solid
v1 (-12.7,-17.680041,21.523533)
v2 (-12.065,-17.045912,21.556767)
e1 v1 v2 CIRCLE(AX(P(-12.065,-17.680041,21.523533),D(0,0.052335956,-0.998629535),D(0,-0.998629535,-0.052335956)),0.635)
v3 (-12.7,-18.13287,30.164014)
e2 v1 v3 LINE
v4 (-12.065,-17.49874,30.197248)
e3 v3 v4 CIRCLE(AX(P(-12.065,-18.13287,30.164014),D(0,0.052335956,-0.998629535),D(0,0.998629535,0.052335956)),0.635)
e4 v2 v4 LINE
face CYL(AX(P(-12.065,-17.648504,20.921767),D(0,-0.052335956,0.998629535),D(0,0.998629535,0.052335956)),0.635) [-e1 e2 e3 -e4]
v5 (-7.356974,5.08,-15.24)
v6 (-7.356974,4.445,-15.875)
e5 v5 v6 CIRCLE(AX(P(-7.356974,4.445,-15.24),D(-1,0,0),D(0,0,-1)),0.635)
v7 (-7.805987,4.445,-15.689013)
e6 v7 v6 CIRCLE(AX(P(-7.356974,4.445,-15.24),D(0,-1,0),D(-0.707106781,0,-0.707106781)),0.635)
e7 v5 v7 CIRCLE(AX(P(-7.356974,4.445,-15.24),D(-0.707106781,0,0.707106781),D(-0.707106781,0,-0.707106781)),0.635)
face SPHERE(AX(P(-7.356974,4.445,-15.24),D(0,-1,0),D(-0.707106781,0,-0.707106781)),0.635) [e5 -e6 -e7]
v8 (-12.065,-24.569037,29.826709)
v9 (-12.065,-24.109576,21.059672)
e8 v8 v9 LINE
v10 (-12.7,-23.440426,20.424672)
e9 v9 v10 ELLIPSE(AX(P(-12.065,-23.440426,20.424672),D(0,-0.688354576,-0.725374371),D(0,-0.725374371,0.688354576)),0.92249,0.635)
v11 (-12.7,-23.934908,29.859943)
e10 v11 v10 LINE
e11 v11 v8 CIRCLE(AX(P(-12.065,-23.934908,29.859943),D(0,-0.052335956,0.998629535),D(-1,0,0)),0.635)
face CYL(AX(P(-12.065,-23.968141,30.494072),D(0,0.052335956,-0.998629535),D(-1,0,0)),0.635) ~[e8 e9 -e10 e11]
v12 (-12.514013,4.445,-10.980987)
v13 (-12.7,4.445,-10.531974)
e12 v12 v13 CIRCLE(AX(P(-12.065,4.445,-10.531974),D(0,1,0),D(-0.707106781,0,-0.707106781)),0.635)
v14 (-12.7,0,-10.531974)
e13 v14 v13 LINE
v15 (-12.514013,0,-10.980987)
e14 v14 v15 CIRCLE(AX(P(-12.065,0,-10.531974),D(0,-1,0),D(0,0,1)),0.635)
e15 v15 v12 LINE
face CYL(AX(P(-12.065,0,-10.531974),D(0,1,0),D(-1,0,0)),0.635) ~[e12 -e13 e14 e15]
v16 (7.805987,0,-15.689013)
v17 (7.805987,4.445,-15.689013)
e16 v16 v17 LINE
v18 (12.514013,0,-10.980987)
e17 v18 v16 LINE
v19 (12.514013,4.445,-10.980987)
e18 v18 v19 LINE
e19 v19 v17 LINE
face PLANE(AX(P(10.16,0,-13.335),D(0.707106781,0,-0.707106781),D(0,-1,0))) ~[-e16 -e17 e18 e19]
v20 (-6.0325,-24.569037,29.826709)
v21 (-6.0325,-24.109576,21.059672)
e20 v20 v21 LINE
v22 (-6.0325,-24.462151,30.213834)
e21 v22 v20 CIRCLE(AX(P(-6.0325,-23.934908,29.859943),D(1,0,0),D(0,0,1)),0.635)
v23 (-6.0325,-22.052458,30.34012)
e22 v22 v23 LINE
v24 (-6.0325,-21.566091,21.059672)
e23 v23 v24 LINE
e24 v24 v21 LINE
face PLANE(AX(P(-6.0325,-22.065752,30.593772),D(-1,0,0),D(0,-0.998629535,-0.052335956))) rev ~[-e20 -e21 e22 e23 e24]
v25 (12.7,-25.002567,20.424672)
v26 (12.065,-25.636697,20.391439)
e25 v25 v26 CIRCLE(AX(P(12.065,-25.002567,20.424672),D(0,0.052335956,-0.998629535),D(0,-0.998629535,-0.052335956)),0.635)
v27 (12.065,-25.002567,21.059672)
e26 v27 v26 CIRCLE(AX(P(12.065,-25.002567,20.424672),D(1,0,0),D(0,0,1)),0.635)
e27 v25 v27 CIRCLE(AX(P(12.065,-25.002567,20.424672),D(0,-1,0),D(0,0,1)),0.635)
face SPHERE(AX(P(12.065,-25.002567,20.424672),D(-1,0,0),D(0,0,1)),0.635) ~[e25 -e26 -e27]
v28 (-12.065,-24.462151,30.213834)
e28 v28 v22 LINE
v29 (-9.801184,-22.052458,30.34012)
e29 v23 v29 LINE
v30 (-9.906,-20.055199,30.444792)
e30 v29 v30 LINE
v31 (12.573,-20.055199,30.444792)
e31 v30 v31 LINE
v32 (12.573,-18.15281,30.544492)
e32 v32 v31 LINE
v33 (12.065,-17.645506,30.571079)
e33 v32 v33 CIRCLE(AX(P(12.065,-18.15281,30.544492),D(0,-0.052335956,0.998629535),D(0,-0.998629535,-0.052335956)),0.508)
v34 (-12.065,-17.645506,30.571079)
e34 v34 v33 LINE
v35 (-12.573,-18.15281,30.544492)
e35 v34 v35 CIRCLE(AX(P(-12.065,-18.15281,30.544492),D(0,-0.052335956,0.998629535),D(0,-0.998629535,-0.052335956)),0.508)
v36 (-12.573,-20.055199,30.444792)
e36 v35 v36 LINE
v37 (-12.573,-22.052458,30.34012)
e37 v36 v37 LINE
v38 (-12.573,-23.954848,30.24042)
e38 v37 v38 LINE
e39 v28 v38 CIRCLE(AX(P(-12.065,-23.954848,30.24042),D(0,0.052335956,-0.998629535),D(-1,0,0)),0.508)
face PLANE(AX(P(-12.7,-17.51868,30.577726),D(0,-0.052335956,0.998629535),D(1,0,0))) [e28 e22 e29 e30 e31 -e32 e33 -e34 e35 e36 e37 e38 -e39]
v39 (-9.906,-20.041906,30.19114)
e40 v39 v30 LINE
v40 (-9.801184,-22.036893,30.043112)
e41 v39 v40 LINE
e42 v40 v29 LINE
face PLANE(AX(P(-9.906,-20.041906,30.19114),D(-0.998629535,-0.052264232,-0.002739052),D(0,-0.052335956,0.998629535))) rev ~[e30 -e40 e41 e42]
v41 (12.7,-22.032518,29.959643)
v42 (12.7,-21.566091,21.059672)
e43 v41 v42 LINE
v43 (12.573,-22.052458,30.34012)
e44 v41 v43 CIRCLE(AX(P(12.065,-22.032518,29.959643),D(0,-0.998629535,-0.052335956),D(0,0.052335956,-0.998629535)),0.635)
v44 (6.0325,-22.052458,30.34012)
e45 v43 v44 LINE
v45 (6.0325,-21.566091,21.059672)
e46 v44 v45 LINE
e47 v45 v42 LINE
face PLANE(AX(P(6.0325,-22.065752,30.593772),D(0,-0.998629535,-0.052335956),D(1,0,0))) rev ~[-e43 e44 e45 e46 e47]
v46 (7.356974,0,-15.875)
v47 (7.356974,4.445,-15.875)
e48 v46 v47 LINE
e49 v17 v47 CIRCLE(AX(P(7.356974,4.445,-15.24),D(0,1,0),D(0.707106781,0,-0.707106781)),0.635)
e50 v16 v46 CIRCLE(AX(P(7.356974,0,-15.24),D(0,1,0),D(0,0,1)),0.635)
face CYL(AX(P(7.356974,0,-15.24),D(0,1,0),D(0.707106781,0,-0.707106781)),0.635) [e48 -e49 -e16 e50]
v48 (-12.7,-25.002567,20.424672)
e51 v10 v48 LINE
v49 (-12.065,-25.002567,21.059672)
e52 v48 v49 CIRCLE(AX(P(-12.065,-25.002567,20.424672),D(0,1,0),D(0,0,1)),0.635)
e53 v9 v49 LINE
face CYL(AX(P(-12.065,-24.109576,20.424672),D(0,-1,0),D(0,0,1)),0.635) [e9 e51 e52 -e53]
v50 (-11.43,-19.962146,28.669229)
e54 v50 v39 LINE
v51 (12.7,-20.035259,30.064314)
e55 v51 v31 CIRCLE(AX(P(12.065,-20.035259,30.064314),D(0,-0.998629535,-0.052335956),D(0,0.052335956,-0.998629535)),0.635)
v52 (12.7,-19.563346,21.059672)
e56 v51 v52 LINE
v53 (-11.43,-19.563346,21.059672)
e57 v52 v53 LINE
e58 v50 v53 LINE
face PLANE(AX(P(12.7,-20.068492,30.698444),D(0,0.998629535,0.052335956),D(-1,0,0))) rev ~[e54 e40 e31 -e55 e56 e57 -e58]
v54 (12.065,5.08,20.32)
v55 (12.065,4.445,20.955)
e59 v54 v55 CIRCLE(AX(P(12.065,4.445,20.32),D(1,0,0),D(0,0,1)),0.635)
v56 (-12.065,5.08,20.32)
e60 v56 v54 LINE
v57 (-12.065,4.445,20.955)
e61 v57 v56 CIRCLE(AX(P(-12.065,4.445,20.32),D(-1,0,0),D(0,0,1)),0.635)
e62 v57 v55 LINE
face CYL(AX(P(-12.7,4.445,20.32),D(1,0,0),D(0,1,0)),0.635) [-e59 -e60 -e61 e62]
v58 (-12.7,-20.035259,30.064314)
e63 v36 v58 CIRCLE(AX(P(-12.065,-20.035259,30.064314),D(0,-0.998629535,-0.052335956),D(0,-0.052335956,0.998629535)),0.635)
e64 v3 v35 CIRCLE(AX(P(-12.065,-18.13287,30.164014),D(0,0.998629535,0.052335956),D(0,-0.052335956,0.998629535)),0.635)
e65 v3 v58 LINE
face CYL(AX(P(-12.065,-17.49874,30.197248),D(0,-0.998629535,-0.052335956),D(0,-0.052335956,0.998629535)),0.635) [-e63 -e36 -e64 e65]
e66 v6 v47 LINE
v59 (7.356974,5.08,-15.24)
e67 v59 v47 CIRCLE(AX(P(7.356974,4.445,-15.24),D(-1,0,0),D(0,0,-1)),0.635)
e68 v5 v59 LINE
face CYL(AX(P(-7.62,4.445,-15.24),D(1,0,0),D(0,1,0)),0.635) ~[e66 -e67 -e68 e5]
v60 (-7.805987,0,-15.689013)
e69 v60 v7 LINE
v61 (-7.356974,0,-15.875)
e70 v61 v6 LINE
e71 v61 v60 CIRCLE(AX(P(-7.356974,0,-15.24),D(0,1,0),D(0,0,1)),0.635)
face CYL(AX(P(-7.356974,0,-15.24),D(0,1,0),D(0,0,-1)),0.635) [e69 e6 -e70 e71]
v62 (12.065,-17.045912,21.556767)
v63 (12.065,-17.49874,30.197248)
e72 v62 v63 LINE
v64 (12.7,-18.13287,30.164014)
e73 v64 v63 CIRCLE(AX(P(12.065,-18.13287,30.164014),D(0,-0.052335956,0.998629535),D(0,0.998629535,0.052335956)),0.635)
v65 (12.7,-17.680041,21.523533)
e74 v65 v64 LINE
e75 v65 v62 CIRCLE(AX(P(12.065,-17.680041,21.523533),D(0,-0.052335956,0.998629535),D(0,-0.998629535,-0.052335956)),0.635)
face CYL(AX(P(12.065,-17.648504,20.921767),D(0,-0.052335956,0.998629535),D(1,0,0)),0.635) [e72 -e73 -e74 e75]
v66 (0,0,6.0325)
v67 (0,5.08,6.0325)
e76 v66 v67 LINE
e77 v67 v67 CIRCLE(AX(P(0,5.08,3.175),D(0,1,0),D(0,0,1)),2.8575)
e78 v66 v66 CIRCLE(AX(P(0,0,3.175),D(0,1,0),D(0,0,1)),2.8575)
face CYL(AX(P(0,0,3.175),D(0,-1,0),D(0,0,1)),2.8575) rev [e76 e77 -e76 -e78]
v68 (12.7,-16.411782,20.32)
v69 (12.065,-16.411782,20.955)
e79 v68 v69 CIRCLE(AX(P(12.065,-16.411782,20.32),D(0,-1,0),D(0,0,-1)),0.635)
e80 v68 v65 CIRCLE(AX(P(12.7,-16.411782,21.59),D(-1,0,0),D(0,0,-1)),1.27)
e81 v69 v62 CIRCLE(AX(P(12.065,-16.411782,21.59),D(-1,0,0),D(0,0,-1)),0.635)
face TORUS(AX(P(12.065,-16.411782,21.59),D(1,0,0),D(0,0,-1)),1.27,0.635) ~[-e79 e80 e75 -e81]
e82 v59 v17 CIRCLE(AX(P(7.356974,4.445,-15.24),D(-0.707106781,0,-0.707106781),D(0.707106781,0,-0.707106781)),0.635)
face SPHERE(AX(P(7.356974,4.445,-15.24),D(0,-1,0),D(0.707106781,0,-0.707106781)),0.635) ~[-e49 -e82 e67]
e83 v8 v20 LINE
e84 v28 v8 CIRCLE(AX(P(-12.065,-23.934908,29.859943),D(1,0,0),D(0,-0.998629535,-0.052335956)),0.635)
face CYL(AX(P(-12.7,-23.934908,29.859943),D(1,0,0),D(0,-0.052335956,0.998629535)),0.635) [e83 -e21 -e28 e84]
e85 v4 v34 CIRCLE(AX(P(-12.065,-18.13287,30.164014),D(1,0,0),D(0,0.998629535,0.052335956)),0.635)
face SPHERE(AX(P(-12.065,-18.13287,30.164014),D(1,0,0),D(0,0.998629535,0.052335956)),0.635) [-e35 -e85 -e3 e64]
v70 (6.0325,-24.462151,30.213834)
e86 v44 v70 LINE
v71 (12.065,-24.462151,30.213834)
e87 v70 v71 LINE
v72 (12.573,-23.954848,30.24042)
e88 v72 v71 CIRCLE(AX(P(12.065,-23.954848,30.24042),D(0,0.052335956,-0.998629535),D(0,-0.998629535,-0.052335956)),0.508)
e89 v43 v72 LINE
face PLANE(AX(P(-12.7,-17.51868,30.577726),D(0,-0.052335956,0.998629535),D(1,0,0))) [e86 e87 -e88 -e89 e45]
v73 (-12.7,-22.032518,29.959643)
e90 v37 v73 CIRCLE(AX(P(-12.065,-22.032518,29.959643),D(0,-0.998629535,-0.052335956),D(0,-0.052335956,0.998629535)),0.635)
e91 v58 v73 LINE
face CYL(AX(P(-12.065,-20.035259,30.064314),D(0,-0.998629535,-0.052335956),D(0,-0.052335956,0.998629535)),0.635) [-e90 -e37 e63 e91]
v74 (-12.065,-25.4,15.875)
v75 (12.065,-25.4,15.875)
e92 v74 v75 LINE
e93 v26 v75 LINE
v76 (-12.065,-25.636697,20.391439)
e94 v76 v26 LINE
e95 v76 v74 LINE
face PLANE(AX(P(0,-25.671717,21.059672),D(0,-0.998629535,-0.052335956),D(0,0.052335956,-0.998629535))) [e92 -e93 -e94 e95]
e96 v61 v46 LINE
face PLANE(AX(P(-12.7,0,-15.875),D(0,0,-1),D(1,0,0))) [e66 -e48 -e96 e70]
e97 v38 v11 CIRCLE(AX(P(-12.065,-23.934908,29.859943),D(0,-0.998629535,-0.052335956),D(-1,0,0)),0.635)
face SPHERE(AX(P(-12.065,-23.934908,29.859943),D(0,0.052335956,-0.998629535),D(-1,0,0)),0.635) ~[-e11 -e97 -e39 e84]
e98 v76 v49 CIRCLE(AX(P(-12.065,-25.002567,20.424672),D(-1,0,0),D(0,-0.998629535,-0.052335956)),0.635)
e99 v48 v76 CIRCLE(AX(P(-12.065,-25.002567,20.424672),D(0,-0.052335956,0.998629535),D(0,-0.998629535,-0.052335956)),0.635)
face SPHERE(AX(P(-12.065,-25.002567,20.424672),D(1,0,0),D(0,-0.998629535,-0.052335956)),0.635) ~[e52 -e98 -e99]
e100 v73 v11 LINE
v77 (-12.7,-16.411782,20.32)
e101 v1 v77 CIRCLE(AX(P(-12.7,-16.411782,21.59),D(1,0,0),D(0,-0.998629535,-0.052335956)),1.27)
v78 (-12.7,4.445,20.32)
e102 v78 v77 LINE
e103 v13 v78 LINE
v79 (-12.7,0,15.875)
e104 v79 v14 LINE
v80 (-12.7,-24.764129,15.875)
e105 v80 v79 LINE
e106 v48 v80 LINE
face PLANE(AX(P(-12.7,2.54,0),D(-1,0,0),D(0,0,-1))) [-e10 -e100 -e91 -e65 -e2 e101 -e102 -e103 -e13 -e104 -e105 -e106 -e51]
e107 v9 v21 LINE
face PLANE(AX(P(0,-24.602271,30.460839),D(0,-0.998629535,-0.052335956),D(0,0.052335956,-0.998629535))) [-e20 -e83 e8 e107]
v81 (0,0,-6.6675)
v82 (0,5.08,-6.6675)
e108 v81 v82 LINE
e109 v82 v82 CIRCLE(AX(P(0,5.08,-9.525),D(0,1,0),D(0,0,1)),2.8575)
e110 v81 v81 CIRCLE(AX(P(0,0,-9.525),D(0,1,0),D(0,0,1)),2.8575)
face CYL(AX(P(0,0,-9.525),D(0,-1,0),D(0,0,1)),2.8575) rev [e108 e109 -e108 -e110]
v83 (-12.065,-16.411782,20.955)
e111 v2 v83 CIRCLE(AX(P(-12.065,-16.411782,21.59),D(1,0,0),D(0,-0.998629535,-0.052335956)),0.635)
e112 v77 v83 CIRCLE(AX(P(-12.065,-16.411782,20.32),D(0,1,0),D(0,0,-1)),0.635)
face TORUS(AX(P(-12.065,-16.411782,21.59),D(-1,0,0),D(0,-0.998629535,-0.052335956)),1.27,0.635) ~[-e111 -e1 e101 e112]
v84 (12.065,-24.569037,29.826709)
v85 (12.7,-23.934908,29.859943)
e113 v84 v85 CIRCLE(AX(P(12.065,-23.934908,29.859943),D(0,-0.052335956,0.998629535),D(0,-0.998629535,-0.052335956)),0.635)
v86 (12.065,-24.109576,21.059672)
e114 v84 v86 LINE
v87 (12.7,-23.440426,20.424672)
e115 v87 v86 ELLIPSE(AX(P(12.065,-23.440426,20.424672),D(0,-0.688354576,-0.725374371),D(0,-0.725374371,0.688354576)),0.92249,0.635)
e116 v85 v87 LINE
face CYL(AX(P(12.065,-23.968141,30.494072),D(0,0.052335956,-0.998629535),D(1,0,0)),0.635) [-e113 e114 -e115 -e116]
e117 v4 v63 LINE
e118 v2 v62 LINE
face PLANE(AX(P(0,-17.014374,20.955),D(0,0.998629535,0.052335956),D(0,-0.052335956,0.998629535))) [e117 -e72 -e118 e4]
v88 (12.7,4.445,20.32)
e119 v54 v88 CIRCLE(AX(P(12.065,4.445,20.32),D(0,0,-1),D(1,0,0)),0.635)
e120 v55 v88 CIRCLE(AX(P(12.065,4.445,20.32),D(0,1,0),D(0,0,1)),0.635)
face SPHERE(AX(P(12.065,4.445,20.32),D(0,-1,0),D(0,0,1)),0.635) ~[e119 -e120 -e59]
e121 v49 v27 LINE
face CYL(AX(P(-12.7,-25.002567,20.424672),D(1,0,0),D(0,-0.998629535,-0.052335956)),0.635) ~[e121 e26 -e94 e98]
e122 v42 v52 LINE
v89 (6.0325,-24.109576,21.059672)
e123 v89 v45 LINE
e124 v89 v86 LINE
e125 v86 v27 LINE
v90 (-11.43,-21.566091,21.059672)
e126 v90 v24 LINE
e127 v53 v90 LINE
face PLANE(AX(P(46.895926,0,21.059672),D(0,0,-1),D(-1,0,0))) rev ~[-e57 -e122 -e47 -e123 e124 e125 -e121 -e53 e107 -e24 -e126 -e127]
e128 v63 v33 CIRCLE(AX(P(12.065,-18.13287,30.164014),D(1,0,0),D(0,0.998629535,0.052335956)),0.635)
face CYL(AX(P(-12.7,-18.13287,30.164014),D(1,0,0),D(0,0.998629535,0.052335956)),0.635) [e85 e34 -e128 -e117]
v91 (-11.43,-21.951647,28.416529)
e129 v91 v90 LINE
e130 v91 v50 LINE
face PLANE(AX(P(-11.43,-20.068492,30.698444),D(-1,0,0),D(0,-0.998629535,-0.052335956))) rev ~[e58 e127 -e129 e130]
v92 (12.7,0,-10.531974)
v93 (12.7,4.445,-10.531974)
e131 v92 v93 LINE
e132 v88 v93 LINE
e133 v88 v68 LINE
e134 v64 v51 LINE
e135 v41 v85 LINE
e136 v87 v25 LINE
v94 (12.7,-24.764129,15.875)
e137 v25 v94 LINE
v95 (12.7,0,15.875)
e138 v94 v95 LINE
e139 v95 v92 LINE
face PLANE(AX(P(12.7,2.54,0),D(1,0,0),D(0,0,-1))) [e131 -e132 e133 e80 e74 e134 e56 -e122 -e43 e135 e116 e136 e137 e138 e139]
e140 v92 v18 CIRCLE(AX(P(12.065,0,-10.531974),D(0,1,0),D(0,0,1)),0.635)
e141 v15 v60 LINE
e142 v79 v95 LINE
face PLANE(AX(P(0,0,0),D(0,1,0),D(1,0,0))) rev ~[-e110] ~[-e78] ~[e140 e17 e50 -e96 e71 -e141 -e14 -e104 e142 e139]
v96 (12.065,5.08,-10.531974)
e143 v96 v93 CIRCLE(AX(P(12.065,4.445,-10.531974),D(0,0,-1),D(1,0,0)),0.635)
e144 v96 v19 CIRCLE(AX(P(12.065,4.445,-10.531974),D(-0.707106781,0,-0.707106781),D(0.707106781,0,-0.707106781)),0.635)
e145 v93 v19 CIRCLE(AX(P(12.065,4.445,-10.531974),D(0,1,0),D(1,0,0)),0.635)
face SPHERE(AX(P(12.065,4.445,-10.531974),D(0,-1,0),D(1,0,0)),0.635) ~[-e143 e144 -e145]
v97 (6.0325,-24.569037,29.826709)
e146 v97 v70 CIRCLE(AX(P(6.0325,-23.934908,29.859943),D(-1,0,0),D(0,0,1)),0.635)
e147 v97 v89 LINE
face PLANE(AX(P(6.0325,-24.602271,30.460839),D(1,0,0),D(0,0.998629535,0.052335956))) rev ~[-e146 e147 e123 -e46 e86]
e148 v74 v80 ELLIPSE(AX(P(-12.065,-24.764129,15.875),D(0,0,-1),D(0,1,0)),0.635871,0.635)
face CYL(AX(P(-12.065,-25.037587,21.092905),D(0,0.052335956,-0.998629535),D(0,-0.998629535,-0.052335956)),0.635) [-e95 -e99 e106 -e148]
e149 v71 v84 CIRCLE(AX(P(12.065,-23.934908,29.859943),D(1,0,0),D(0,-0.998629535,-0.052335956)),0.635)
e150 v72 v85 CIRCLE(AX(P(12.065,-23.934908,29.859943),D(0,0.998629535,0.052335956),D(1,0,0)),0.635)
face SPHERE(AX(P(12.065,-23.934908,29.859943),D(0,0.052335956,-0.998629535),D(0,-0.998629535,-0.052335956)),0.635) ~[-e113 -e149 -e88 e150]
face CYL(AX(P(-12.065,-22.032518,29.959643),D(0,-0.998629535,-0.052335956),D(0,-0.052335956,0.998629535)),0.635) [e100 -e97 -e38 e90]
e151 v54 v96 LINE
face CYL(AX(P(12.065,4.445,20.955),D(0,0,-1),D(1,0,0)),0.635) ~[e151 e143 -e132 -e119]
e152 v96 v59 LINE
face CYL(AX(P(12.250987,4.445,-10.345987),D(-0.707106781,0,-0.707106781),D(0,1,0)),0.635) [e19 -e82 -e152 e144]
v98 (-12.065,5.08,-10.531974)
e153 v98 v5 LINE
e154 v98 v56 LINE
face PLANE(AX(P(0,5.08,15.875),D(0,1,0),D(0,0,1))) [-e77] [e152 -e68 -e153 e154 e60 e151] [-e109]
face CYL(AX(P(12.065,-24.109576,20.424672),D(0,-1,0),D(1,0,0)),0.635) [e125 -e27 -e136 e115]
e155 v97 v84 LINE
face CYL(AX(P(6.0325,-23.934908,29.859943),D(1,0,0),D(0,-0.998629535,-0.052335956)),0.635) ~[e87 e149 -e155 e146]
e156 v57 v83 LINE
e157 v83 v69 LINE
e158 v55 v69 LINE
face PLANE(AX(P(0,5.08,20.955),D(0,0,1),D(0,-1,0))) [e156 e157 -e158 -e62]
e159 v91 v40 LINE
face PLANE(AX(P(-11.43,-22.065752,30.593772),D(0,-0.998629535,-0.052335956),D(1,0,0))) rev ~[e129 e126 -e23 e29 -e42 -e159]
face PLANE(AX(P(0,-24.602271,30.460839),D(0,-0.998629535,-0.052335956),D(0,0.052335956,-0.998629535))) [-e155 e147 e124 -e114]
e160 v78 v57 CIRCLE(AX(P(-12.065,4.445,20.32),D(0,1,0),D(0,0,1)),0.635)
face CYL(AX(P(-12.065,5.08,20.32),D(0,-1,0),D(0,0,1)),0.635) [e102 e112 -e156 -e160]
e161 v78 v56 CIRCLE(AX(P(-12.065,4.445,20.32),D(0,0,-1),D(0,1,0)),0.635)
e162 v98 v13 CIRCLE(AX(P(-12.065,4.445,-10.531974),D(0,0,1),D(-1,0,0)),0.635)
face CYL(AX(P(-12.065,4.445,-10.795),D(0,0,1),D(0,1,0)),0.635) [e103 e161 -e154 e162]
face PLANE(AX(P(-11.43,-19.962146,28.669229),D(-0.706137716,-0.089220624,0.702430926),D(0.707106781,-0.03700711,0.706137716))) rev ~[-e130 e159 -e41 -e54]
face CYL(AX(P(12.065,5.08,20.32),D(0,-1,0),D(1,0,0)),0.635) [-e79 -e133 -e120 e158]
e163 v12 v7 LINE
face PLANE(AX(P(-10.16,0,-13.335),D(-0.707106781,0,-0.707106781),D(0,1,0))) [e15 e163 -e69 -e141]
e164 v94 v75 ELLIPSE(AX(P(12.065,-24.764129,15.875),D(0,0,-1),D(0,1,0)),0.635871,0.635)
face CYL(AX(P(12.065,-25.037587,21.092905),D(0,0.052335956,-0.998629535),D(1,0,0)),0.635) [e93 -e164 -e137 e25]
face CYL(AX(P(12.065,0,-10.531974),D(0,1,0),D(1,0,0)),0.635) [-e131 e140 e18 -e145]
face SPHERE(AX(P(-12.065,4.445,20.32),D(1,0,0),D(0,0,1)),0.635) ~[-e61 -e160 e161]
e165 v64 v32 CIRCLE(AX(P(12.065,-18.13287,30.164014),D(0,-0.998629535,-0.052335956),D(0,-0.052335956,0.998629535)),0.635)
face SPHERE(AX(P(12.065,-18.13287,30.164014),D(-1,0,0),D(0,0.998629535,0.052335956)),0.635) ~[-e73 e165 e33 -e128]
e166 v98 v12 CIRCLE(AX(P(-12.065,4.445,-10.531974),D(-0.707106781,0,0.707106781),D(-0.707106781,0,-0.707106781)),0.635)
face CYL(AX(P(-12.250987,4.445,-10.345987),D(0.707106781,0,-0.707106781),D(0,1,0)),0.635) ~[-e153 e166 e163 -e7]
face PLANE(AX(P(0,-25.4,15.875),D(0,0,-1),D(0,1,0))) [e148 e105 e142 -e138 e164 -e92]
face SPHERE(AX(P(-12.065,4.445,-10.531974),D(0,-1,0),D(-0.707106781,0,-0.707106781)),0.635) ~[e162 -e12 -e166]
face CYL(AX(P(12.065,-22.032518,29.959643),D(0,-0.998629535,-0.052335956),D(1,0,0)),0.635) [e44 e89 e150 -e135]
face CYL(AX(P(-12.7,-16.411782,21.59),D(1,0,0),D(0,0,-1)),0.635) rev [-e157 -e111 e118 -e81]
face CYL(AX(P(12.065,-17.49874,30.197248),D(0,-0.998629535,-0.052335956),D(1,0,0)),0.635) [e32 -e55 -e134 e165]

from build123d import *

# Parameters (mm, degrees)
SKETCH1_W                       = 25.4
SKETCH1_H                       = 31.75
SKETCH1_R                       = 2.8575
BOSS_EXTRUDE1_DEPTH             = 5.08
BOSS_EXTRUDE2_REACH             = 22.955
BOSS_EXTRUDE2_DIRECTION_2_REACH = 22.955
CUT_EXTRUDE3_REACH              = 56.752
BOSS_EXTRUDE3_DEPTH             = 2
BOSS_EXTRUDE3_DRAFT             = -3
CHAMFER1_SIZE                   = 5.08
FILLET1_R                       = 0.635
SKETCH8_W                       = 25.4
SKETCH8_H                       = 6.35
CUT_EXTRUDE4_DEPTH              = 41.010145227


with BuildPart() as part:
    # Sketch1 → Boss-Extrude1 (new body)
    with BuildSketch(Plane(origin=(0, 0, 0), x_dir=(1, 0, 0), z_dir=(0, 1, 0))):
        Rectangle(SKETCH1_W, SKETCH1_H)
        with Locations(Location((0, 9.525, 0), (0, 0, 270))):
            Circle(SKETCH1_R, mode=Mode.SUBTRACT)
        with Locations(Location((0, -3.175, 0), (0, 0, 270))):
            Circle(SKETCH1_R, mode=Mode.SUBTRACT)
    extrude(amount=BOSS_EXTRUDE1_DEPTH)

    # Boss-Extrude2: up to this face of the body (flat: up to its plane)
    boss_extrude2_end = Plane(part.part.faces().sort_by_distance((12.7, 2.54, 0))[0])
    # Sketch2 → Boss-Extrude2 (add, up to the picked face)
    with BuildSketch(Plane(origin=(0, 0, 0), x_dir=(0, 0, -1), z_dir=(1, 0, 0)), mode=Mode.PRIVATE) as boss_extrude2_sk1:
        Polygon((-15.875, 5.08), (-20.955, 5.08), (-20.955, -17.014374457), (-30.831377514, -17.53197347), (-30.460838941, -24.60227064), (-21.059671916, -24.109576354), (-21.059671916, -25.671717141), (-15.875, -25.4), align=None)
    boss_extrude2_tool1 = split(extrude(boss_extrude2_sk1.sketch, amount=BOSS_EXTRUDE2_REACH, mode=Mode.PRIVATE), bisect_by=boss_extrude2_end, keep=Keep.BOTH, mode=Mode.PRIVATE)
    # Sketch2 → Boss-Extrude2 (add, up to the picked face)
    with BuildSketch(Plane(origin=(0, 0, 0), x_dir=(0, 0, -1), z_dir=(1, 0, 0)), mode=Mode.PRIVATE) as boss_extrude2_sk2:
        Polygon((-30.698444185, -20.068492489), (-30.593772269, -22.065751622), (-21.059671916, -21.566090595), (-21.059671916, -19.563345839), align=None)
    boss_extrude2_tool2 = split(extrude(boss_extrude2_sk2.sketch, amount=BOSS_EXTRUDE2_REACH, mode=Mode.PRIVATE), bisect_by=boss_extrude2_end, keep=Keep.BOTH, mode=Mode.PRIVATE)
    add(boss_extrude2_tool1.solids().sort_by(Axis((0, -13.472044, 20.681092), (1, 0, 0)))[0])
    add(boss_extrude2_tool2.solids().sort_by(Axis((0, -20.8141, 25.852938), (1, 0, 0)))[0])

    # Boss-Extrude2 direction 2: up to this face of the body (flat: up to its plane)
    boss_extrude2_direction_2_end = Plane(part.part.faces().sort_by_distance((-12.7, 2.54, 0))[0])
    # Sketch2 → Boss-Extrude2 direction 2 (add, up to the picked face)
    with BuildSketch(Plane(origin=(0, 0, 0), x_dir=(0, 0, -1), z_dir=(1, 0, 0)), mode=Mode.PRIVATE) as boss_extrude2_direction_2_sk1:
        Polygon((-15.875, 5.08), (-20.955, 5.08), (-20.955, -17.014374457), (-30.831377514, -17.53197347), (-30.460838941, -24.60227064), (-21.059671916, -24.109576354), (-21.059671916, -25.671717141), (-15.875, -25.4), align=None)
    boss_extrude2_direction_2_tool1 = split(extrude(boss_extrude2_direction_2_sk1.sketch, amount=-BOSS_EXTRUDE2_DIRECTION_2_REACH, mode=Mode.PRIVATE), bisect_by=boss_extrude2_direction_2_end, keep=Keep.BOTH, mode=Mode.PRIVATE)
    # Sketch2 → Boss-Extrude2 direction 2 (add, up to the picked face)
    with BuildSketch(Plane(origin=(0, 0, 0), x_dir=(0, 0, -1), z_dir=(1, 0, 0)), mode=Mode.PRIVATE) as boss_extrude2_direction_2_sk2:
        Polygon((-30.698444185, -20.068492489), (-30.593772269, -22.065751622), (-21.059671916, -21.566090595), (-21.059671916, -19.563345839), align=None)
    boss_extrude2_direction_2_tool2 = split(extrude(boss_extrude2_direction_2_sk2.sketch, amount=-BOSS_EXTRUDE2_DIRECTION_2_REACH, mode=Mode.PRIVATE), bisect_by=boss_extrude2_direction_2_end, keep=Keep.BOTH, mode=Mode.PRIVATE)
    add(boss_extrude2_direction_2_tool1.solids().sort_by(Axis((0, -13.472044, 20.681092), (-1, 0, 0)))[0])
    add(boss_extrude2_direction_2_tool2.solids().sort_by(Axis((0, -20.8141, 25.852938), (-1, 0, 0)))[0])

    # Cut-Extrude3: up to this plane
    cut_extrude3_end = Plane(origin=(46.895925715, 0, 21.059671916), z_dir=(0, 0, -1))
    # Sketch4 → Cut-Extrude3 (cut, up to the surface)
    with BuildSketch(Plane(origin=(0, -1.659399249, 31.663223881), x_dir=(1, 0, 0), z_dir=(0, -0.052335956242941094, 0.9986295347545742)), mode=Mode.PRIVATE) as cut_extrude3_sk1:
        Polygon((-11.43, -20.434356949), (-6.0325, -20.434356949), (-6.0325, -22.974356949), (6.0325, -22.974356949), (6.0325, -20.434356949), (12.7, -20.434356949), (12.7, -18.434356885), (-11.43, -18.434356885), align=None)
    cut_extrude3_tool1 = split(extrude(cut_extrude3_sk1.sketch, amount=-CUT_EXTRUDE3_REACH, mode=Mode.PRIVATE), bisect_by=cut_extrude3_end, keep=Keep.BOTH, mode=Mode.PRIVATE)
    add(cut_extrude3_tool1.solids().sort_by_distance((0.388379, -21.947535, 30.599968))[0], mode=Mode.SUBTRACT)


with BuildPart() as boss_extrude3_tool:
    # Sketch5 → Boss-Extrude3 (with draft: the straight prism first)
    with BuildSketch(Plane(origin=(0, -18.40909324, -0.964779695), x_dir=(1, 0, 0), z_dir=(0, -0.9986295347545742, -0.052335956242941115))):
        Polygon((-11.43, 29.674676779), (-9.906, 31.198676779), (-9.906, 31.706676779), (-11.43, 31.706676779), align=None)
    extrude(amount=BOSS_EXTRUDE3_DEPTH)
    # Boss-Extrude3: the draft: its side faces are tilted about the plane it starts from
    boss_extrude3_sides = [boss_extrude3_tool.faces().sort_by_distance(p)[0] for p in [
        (-10.668, -21.000655359, 29.37784872),
        (-9.906, -21.05382869, 30.392456327),
        (-10.668, -21.067122023, 30.646108229),
        (-11.43, -21.013948692, 29.631500622),
    ]]
    draft(boss_extrude3_sides, Plane(origin=(0, -18.40909324, -0.964779695), x_dir=(1, 0, 0), z_dir=(0, -0.9986295347545742, -0.052335956242941115)), BOSS_EXTRUDE3_DRAFT)


with BuildPart() as part_1:
    add(part.part)

    # Boss-Extrude3: add boss_extrude3_tool
    add(boss_extrude3_tool.part)

    # Chamfer1
    chamfer1_edges = [part_1.edges().sort_by_distance(p)[0] for p in [
        (-12.7, 2.54, -15.875),
        (12.7, 2.54, -15.875),
    ]]
    chamfer(chamfer1_edges, length=CHAMFER1_SIZE)

    # Fillet1
    fillet1_edges = [part_1.edges().sort_by_distance(p)[0] for p in [
        (12.7, -5.967187229, 20.955),
        (0, 5.08, 20.955),
        (12.7, -25.535858571, 18.467335958),
        (0, -25.671717141, 21.059671916),
        (12.7, -24.890646748, 21.059671916),
        (12.7, -24.355923497, 25.760255428),
        (9.36625, -24.60227064, 30.460838941),
        (12.7, -23.334011131, 30.527305605),
        (0, -17.53197347, 30.831377514),
        (12.7, -17.273173964, 25.893188757),
        (0, -17.014374457, 20.955),
        (-12.7, -17.273173964, 25.893188757),
        (-12.7, -5.967187229, 20.955),
        (-12.7, -25.535858571, 18.467335958),
        (-12.7, -24.890646748, 21.059671916),
        (-12.7, -24.355923497, 25.760255428),
        (-12.7, -21.067122055, 30.646108227),
        (-9.36625, -24.60227064, 30.460838941),
        (12.7, -18.800232979, 30.76491085),
        (12.7, 5.08, 5.08),
        (-12.7, 5.08, 5.08),
        (-12.7, 2.54, -10.795),
        (0, 5.08, -15.875),
        (7.62, 2.54, -15.875),
        (-7.62, 2.54, -15.875),
        (10.16, 5.08, -13.335),
        (-10.16, 5.08, -13.335),
        (12.7, 2.54, -10.795),
    ]]
    fillet(fillet1_edges, radius=FILLET1_R)

    # Sketch8 → Cut-Extrude4 (cut, through all)
    with BuildSketch(Plane(origin=(0, -15.872574222, -0.831846366), x_dir=(1, 0, 0), z_dir=(0, 0.9986295347545742, 0.05233595624294136))):
        with Locations((0, -34.627676779)):
            Rectangle(SKETCH8_W, SKETCH8_H)
    extrude(amount=-CUT_EXTRUDE4_DEPTH, mode=Mode.SUBTRACT)


solid = part_1.part
